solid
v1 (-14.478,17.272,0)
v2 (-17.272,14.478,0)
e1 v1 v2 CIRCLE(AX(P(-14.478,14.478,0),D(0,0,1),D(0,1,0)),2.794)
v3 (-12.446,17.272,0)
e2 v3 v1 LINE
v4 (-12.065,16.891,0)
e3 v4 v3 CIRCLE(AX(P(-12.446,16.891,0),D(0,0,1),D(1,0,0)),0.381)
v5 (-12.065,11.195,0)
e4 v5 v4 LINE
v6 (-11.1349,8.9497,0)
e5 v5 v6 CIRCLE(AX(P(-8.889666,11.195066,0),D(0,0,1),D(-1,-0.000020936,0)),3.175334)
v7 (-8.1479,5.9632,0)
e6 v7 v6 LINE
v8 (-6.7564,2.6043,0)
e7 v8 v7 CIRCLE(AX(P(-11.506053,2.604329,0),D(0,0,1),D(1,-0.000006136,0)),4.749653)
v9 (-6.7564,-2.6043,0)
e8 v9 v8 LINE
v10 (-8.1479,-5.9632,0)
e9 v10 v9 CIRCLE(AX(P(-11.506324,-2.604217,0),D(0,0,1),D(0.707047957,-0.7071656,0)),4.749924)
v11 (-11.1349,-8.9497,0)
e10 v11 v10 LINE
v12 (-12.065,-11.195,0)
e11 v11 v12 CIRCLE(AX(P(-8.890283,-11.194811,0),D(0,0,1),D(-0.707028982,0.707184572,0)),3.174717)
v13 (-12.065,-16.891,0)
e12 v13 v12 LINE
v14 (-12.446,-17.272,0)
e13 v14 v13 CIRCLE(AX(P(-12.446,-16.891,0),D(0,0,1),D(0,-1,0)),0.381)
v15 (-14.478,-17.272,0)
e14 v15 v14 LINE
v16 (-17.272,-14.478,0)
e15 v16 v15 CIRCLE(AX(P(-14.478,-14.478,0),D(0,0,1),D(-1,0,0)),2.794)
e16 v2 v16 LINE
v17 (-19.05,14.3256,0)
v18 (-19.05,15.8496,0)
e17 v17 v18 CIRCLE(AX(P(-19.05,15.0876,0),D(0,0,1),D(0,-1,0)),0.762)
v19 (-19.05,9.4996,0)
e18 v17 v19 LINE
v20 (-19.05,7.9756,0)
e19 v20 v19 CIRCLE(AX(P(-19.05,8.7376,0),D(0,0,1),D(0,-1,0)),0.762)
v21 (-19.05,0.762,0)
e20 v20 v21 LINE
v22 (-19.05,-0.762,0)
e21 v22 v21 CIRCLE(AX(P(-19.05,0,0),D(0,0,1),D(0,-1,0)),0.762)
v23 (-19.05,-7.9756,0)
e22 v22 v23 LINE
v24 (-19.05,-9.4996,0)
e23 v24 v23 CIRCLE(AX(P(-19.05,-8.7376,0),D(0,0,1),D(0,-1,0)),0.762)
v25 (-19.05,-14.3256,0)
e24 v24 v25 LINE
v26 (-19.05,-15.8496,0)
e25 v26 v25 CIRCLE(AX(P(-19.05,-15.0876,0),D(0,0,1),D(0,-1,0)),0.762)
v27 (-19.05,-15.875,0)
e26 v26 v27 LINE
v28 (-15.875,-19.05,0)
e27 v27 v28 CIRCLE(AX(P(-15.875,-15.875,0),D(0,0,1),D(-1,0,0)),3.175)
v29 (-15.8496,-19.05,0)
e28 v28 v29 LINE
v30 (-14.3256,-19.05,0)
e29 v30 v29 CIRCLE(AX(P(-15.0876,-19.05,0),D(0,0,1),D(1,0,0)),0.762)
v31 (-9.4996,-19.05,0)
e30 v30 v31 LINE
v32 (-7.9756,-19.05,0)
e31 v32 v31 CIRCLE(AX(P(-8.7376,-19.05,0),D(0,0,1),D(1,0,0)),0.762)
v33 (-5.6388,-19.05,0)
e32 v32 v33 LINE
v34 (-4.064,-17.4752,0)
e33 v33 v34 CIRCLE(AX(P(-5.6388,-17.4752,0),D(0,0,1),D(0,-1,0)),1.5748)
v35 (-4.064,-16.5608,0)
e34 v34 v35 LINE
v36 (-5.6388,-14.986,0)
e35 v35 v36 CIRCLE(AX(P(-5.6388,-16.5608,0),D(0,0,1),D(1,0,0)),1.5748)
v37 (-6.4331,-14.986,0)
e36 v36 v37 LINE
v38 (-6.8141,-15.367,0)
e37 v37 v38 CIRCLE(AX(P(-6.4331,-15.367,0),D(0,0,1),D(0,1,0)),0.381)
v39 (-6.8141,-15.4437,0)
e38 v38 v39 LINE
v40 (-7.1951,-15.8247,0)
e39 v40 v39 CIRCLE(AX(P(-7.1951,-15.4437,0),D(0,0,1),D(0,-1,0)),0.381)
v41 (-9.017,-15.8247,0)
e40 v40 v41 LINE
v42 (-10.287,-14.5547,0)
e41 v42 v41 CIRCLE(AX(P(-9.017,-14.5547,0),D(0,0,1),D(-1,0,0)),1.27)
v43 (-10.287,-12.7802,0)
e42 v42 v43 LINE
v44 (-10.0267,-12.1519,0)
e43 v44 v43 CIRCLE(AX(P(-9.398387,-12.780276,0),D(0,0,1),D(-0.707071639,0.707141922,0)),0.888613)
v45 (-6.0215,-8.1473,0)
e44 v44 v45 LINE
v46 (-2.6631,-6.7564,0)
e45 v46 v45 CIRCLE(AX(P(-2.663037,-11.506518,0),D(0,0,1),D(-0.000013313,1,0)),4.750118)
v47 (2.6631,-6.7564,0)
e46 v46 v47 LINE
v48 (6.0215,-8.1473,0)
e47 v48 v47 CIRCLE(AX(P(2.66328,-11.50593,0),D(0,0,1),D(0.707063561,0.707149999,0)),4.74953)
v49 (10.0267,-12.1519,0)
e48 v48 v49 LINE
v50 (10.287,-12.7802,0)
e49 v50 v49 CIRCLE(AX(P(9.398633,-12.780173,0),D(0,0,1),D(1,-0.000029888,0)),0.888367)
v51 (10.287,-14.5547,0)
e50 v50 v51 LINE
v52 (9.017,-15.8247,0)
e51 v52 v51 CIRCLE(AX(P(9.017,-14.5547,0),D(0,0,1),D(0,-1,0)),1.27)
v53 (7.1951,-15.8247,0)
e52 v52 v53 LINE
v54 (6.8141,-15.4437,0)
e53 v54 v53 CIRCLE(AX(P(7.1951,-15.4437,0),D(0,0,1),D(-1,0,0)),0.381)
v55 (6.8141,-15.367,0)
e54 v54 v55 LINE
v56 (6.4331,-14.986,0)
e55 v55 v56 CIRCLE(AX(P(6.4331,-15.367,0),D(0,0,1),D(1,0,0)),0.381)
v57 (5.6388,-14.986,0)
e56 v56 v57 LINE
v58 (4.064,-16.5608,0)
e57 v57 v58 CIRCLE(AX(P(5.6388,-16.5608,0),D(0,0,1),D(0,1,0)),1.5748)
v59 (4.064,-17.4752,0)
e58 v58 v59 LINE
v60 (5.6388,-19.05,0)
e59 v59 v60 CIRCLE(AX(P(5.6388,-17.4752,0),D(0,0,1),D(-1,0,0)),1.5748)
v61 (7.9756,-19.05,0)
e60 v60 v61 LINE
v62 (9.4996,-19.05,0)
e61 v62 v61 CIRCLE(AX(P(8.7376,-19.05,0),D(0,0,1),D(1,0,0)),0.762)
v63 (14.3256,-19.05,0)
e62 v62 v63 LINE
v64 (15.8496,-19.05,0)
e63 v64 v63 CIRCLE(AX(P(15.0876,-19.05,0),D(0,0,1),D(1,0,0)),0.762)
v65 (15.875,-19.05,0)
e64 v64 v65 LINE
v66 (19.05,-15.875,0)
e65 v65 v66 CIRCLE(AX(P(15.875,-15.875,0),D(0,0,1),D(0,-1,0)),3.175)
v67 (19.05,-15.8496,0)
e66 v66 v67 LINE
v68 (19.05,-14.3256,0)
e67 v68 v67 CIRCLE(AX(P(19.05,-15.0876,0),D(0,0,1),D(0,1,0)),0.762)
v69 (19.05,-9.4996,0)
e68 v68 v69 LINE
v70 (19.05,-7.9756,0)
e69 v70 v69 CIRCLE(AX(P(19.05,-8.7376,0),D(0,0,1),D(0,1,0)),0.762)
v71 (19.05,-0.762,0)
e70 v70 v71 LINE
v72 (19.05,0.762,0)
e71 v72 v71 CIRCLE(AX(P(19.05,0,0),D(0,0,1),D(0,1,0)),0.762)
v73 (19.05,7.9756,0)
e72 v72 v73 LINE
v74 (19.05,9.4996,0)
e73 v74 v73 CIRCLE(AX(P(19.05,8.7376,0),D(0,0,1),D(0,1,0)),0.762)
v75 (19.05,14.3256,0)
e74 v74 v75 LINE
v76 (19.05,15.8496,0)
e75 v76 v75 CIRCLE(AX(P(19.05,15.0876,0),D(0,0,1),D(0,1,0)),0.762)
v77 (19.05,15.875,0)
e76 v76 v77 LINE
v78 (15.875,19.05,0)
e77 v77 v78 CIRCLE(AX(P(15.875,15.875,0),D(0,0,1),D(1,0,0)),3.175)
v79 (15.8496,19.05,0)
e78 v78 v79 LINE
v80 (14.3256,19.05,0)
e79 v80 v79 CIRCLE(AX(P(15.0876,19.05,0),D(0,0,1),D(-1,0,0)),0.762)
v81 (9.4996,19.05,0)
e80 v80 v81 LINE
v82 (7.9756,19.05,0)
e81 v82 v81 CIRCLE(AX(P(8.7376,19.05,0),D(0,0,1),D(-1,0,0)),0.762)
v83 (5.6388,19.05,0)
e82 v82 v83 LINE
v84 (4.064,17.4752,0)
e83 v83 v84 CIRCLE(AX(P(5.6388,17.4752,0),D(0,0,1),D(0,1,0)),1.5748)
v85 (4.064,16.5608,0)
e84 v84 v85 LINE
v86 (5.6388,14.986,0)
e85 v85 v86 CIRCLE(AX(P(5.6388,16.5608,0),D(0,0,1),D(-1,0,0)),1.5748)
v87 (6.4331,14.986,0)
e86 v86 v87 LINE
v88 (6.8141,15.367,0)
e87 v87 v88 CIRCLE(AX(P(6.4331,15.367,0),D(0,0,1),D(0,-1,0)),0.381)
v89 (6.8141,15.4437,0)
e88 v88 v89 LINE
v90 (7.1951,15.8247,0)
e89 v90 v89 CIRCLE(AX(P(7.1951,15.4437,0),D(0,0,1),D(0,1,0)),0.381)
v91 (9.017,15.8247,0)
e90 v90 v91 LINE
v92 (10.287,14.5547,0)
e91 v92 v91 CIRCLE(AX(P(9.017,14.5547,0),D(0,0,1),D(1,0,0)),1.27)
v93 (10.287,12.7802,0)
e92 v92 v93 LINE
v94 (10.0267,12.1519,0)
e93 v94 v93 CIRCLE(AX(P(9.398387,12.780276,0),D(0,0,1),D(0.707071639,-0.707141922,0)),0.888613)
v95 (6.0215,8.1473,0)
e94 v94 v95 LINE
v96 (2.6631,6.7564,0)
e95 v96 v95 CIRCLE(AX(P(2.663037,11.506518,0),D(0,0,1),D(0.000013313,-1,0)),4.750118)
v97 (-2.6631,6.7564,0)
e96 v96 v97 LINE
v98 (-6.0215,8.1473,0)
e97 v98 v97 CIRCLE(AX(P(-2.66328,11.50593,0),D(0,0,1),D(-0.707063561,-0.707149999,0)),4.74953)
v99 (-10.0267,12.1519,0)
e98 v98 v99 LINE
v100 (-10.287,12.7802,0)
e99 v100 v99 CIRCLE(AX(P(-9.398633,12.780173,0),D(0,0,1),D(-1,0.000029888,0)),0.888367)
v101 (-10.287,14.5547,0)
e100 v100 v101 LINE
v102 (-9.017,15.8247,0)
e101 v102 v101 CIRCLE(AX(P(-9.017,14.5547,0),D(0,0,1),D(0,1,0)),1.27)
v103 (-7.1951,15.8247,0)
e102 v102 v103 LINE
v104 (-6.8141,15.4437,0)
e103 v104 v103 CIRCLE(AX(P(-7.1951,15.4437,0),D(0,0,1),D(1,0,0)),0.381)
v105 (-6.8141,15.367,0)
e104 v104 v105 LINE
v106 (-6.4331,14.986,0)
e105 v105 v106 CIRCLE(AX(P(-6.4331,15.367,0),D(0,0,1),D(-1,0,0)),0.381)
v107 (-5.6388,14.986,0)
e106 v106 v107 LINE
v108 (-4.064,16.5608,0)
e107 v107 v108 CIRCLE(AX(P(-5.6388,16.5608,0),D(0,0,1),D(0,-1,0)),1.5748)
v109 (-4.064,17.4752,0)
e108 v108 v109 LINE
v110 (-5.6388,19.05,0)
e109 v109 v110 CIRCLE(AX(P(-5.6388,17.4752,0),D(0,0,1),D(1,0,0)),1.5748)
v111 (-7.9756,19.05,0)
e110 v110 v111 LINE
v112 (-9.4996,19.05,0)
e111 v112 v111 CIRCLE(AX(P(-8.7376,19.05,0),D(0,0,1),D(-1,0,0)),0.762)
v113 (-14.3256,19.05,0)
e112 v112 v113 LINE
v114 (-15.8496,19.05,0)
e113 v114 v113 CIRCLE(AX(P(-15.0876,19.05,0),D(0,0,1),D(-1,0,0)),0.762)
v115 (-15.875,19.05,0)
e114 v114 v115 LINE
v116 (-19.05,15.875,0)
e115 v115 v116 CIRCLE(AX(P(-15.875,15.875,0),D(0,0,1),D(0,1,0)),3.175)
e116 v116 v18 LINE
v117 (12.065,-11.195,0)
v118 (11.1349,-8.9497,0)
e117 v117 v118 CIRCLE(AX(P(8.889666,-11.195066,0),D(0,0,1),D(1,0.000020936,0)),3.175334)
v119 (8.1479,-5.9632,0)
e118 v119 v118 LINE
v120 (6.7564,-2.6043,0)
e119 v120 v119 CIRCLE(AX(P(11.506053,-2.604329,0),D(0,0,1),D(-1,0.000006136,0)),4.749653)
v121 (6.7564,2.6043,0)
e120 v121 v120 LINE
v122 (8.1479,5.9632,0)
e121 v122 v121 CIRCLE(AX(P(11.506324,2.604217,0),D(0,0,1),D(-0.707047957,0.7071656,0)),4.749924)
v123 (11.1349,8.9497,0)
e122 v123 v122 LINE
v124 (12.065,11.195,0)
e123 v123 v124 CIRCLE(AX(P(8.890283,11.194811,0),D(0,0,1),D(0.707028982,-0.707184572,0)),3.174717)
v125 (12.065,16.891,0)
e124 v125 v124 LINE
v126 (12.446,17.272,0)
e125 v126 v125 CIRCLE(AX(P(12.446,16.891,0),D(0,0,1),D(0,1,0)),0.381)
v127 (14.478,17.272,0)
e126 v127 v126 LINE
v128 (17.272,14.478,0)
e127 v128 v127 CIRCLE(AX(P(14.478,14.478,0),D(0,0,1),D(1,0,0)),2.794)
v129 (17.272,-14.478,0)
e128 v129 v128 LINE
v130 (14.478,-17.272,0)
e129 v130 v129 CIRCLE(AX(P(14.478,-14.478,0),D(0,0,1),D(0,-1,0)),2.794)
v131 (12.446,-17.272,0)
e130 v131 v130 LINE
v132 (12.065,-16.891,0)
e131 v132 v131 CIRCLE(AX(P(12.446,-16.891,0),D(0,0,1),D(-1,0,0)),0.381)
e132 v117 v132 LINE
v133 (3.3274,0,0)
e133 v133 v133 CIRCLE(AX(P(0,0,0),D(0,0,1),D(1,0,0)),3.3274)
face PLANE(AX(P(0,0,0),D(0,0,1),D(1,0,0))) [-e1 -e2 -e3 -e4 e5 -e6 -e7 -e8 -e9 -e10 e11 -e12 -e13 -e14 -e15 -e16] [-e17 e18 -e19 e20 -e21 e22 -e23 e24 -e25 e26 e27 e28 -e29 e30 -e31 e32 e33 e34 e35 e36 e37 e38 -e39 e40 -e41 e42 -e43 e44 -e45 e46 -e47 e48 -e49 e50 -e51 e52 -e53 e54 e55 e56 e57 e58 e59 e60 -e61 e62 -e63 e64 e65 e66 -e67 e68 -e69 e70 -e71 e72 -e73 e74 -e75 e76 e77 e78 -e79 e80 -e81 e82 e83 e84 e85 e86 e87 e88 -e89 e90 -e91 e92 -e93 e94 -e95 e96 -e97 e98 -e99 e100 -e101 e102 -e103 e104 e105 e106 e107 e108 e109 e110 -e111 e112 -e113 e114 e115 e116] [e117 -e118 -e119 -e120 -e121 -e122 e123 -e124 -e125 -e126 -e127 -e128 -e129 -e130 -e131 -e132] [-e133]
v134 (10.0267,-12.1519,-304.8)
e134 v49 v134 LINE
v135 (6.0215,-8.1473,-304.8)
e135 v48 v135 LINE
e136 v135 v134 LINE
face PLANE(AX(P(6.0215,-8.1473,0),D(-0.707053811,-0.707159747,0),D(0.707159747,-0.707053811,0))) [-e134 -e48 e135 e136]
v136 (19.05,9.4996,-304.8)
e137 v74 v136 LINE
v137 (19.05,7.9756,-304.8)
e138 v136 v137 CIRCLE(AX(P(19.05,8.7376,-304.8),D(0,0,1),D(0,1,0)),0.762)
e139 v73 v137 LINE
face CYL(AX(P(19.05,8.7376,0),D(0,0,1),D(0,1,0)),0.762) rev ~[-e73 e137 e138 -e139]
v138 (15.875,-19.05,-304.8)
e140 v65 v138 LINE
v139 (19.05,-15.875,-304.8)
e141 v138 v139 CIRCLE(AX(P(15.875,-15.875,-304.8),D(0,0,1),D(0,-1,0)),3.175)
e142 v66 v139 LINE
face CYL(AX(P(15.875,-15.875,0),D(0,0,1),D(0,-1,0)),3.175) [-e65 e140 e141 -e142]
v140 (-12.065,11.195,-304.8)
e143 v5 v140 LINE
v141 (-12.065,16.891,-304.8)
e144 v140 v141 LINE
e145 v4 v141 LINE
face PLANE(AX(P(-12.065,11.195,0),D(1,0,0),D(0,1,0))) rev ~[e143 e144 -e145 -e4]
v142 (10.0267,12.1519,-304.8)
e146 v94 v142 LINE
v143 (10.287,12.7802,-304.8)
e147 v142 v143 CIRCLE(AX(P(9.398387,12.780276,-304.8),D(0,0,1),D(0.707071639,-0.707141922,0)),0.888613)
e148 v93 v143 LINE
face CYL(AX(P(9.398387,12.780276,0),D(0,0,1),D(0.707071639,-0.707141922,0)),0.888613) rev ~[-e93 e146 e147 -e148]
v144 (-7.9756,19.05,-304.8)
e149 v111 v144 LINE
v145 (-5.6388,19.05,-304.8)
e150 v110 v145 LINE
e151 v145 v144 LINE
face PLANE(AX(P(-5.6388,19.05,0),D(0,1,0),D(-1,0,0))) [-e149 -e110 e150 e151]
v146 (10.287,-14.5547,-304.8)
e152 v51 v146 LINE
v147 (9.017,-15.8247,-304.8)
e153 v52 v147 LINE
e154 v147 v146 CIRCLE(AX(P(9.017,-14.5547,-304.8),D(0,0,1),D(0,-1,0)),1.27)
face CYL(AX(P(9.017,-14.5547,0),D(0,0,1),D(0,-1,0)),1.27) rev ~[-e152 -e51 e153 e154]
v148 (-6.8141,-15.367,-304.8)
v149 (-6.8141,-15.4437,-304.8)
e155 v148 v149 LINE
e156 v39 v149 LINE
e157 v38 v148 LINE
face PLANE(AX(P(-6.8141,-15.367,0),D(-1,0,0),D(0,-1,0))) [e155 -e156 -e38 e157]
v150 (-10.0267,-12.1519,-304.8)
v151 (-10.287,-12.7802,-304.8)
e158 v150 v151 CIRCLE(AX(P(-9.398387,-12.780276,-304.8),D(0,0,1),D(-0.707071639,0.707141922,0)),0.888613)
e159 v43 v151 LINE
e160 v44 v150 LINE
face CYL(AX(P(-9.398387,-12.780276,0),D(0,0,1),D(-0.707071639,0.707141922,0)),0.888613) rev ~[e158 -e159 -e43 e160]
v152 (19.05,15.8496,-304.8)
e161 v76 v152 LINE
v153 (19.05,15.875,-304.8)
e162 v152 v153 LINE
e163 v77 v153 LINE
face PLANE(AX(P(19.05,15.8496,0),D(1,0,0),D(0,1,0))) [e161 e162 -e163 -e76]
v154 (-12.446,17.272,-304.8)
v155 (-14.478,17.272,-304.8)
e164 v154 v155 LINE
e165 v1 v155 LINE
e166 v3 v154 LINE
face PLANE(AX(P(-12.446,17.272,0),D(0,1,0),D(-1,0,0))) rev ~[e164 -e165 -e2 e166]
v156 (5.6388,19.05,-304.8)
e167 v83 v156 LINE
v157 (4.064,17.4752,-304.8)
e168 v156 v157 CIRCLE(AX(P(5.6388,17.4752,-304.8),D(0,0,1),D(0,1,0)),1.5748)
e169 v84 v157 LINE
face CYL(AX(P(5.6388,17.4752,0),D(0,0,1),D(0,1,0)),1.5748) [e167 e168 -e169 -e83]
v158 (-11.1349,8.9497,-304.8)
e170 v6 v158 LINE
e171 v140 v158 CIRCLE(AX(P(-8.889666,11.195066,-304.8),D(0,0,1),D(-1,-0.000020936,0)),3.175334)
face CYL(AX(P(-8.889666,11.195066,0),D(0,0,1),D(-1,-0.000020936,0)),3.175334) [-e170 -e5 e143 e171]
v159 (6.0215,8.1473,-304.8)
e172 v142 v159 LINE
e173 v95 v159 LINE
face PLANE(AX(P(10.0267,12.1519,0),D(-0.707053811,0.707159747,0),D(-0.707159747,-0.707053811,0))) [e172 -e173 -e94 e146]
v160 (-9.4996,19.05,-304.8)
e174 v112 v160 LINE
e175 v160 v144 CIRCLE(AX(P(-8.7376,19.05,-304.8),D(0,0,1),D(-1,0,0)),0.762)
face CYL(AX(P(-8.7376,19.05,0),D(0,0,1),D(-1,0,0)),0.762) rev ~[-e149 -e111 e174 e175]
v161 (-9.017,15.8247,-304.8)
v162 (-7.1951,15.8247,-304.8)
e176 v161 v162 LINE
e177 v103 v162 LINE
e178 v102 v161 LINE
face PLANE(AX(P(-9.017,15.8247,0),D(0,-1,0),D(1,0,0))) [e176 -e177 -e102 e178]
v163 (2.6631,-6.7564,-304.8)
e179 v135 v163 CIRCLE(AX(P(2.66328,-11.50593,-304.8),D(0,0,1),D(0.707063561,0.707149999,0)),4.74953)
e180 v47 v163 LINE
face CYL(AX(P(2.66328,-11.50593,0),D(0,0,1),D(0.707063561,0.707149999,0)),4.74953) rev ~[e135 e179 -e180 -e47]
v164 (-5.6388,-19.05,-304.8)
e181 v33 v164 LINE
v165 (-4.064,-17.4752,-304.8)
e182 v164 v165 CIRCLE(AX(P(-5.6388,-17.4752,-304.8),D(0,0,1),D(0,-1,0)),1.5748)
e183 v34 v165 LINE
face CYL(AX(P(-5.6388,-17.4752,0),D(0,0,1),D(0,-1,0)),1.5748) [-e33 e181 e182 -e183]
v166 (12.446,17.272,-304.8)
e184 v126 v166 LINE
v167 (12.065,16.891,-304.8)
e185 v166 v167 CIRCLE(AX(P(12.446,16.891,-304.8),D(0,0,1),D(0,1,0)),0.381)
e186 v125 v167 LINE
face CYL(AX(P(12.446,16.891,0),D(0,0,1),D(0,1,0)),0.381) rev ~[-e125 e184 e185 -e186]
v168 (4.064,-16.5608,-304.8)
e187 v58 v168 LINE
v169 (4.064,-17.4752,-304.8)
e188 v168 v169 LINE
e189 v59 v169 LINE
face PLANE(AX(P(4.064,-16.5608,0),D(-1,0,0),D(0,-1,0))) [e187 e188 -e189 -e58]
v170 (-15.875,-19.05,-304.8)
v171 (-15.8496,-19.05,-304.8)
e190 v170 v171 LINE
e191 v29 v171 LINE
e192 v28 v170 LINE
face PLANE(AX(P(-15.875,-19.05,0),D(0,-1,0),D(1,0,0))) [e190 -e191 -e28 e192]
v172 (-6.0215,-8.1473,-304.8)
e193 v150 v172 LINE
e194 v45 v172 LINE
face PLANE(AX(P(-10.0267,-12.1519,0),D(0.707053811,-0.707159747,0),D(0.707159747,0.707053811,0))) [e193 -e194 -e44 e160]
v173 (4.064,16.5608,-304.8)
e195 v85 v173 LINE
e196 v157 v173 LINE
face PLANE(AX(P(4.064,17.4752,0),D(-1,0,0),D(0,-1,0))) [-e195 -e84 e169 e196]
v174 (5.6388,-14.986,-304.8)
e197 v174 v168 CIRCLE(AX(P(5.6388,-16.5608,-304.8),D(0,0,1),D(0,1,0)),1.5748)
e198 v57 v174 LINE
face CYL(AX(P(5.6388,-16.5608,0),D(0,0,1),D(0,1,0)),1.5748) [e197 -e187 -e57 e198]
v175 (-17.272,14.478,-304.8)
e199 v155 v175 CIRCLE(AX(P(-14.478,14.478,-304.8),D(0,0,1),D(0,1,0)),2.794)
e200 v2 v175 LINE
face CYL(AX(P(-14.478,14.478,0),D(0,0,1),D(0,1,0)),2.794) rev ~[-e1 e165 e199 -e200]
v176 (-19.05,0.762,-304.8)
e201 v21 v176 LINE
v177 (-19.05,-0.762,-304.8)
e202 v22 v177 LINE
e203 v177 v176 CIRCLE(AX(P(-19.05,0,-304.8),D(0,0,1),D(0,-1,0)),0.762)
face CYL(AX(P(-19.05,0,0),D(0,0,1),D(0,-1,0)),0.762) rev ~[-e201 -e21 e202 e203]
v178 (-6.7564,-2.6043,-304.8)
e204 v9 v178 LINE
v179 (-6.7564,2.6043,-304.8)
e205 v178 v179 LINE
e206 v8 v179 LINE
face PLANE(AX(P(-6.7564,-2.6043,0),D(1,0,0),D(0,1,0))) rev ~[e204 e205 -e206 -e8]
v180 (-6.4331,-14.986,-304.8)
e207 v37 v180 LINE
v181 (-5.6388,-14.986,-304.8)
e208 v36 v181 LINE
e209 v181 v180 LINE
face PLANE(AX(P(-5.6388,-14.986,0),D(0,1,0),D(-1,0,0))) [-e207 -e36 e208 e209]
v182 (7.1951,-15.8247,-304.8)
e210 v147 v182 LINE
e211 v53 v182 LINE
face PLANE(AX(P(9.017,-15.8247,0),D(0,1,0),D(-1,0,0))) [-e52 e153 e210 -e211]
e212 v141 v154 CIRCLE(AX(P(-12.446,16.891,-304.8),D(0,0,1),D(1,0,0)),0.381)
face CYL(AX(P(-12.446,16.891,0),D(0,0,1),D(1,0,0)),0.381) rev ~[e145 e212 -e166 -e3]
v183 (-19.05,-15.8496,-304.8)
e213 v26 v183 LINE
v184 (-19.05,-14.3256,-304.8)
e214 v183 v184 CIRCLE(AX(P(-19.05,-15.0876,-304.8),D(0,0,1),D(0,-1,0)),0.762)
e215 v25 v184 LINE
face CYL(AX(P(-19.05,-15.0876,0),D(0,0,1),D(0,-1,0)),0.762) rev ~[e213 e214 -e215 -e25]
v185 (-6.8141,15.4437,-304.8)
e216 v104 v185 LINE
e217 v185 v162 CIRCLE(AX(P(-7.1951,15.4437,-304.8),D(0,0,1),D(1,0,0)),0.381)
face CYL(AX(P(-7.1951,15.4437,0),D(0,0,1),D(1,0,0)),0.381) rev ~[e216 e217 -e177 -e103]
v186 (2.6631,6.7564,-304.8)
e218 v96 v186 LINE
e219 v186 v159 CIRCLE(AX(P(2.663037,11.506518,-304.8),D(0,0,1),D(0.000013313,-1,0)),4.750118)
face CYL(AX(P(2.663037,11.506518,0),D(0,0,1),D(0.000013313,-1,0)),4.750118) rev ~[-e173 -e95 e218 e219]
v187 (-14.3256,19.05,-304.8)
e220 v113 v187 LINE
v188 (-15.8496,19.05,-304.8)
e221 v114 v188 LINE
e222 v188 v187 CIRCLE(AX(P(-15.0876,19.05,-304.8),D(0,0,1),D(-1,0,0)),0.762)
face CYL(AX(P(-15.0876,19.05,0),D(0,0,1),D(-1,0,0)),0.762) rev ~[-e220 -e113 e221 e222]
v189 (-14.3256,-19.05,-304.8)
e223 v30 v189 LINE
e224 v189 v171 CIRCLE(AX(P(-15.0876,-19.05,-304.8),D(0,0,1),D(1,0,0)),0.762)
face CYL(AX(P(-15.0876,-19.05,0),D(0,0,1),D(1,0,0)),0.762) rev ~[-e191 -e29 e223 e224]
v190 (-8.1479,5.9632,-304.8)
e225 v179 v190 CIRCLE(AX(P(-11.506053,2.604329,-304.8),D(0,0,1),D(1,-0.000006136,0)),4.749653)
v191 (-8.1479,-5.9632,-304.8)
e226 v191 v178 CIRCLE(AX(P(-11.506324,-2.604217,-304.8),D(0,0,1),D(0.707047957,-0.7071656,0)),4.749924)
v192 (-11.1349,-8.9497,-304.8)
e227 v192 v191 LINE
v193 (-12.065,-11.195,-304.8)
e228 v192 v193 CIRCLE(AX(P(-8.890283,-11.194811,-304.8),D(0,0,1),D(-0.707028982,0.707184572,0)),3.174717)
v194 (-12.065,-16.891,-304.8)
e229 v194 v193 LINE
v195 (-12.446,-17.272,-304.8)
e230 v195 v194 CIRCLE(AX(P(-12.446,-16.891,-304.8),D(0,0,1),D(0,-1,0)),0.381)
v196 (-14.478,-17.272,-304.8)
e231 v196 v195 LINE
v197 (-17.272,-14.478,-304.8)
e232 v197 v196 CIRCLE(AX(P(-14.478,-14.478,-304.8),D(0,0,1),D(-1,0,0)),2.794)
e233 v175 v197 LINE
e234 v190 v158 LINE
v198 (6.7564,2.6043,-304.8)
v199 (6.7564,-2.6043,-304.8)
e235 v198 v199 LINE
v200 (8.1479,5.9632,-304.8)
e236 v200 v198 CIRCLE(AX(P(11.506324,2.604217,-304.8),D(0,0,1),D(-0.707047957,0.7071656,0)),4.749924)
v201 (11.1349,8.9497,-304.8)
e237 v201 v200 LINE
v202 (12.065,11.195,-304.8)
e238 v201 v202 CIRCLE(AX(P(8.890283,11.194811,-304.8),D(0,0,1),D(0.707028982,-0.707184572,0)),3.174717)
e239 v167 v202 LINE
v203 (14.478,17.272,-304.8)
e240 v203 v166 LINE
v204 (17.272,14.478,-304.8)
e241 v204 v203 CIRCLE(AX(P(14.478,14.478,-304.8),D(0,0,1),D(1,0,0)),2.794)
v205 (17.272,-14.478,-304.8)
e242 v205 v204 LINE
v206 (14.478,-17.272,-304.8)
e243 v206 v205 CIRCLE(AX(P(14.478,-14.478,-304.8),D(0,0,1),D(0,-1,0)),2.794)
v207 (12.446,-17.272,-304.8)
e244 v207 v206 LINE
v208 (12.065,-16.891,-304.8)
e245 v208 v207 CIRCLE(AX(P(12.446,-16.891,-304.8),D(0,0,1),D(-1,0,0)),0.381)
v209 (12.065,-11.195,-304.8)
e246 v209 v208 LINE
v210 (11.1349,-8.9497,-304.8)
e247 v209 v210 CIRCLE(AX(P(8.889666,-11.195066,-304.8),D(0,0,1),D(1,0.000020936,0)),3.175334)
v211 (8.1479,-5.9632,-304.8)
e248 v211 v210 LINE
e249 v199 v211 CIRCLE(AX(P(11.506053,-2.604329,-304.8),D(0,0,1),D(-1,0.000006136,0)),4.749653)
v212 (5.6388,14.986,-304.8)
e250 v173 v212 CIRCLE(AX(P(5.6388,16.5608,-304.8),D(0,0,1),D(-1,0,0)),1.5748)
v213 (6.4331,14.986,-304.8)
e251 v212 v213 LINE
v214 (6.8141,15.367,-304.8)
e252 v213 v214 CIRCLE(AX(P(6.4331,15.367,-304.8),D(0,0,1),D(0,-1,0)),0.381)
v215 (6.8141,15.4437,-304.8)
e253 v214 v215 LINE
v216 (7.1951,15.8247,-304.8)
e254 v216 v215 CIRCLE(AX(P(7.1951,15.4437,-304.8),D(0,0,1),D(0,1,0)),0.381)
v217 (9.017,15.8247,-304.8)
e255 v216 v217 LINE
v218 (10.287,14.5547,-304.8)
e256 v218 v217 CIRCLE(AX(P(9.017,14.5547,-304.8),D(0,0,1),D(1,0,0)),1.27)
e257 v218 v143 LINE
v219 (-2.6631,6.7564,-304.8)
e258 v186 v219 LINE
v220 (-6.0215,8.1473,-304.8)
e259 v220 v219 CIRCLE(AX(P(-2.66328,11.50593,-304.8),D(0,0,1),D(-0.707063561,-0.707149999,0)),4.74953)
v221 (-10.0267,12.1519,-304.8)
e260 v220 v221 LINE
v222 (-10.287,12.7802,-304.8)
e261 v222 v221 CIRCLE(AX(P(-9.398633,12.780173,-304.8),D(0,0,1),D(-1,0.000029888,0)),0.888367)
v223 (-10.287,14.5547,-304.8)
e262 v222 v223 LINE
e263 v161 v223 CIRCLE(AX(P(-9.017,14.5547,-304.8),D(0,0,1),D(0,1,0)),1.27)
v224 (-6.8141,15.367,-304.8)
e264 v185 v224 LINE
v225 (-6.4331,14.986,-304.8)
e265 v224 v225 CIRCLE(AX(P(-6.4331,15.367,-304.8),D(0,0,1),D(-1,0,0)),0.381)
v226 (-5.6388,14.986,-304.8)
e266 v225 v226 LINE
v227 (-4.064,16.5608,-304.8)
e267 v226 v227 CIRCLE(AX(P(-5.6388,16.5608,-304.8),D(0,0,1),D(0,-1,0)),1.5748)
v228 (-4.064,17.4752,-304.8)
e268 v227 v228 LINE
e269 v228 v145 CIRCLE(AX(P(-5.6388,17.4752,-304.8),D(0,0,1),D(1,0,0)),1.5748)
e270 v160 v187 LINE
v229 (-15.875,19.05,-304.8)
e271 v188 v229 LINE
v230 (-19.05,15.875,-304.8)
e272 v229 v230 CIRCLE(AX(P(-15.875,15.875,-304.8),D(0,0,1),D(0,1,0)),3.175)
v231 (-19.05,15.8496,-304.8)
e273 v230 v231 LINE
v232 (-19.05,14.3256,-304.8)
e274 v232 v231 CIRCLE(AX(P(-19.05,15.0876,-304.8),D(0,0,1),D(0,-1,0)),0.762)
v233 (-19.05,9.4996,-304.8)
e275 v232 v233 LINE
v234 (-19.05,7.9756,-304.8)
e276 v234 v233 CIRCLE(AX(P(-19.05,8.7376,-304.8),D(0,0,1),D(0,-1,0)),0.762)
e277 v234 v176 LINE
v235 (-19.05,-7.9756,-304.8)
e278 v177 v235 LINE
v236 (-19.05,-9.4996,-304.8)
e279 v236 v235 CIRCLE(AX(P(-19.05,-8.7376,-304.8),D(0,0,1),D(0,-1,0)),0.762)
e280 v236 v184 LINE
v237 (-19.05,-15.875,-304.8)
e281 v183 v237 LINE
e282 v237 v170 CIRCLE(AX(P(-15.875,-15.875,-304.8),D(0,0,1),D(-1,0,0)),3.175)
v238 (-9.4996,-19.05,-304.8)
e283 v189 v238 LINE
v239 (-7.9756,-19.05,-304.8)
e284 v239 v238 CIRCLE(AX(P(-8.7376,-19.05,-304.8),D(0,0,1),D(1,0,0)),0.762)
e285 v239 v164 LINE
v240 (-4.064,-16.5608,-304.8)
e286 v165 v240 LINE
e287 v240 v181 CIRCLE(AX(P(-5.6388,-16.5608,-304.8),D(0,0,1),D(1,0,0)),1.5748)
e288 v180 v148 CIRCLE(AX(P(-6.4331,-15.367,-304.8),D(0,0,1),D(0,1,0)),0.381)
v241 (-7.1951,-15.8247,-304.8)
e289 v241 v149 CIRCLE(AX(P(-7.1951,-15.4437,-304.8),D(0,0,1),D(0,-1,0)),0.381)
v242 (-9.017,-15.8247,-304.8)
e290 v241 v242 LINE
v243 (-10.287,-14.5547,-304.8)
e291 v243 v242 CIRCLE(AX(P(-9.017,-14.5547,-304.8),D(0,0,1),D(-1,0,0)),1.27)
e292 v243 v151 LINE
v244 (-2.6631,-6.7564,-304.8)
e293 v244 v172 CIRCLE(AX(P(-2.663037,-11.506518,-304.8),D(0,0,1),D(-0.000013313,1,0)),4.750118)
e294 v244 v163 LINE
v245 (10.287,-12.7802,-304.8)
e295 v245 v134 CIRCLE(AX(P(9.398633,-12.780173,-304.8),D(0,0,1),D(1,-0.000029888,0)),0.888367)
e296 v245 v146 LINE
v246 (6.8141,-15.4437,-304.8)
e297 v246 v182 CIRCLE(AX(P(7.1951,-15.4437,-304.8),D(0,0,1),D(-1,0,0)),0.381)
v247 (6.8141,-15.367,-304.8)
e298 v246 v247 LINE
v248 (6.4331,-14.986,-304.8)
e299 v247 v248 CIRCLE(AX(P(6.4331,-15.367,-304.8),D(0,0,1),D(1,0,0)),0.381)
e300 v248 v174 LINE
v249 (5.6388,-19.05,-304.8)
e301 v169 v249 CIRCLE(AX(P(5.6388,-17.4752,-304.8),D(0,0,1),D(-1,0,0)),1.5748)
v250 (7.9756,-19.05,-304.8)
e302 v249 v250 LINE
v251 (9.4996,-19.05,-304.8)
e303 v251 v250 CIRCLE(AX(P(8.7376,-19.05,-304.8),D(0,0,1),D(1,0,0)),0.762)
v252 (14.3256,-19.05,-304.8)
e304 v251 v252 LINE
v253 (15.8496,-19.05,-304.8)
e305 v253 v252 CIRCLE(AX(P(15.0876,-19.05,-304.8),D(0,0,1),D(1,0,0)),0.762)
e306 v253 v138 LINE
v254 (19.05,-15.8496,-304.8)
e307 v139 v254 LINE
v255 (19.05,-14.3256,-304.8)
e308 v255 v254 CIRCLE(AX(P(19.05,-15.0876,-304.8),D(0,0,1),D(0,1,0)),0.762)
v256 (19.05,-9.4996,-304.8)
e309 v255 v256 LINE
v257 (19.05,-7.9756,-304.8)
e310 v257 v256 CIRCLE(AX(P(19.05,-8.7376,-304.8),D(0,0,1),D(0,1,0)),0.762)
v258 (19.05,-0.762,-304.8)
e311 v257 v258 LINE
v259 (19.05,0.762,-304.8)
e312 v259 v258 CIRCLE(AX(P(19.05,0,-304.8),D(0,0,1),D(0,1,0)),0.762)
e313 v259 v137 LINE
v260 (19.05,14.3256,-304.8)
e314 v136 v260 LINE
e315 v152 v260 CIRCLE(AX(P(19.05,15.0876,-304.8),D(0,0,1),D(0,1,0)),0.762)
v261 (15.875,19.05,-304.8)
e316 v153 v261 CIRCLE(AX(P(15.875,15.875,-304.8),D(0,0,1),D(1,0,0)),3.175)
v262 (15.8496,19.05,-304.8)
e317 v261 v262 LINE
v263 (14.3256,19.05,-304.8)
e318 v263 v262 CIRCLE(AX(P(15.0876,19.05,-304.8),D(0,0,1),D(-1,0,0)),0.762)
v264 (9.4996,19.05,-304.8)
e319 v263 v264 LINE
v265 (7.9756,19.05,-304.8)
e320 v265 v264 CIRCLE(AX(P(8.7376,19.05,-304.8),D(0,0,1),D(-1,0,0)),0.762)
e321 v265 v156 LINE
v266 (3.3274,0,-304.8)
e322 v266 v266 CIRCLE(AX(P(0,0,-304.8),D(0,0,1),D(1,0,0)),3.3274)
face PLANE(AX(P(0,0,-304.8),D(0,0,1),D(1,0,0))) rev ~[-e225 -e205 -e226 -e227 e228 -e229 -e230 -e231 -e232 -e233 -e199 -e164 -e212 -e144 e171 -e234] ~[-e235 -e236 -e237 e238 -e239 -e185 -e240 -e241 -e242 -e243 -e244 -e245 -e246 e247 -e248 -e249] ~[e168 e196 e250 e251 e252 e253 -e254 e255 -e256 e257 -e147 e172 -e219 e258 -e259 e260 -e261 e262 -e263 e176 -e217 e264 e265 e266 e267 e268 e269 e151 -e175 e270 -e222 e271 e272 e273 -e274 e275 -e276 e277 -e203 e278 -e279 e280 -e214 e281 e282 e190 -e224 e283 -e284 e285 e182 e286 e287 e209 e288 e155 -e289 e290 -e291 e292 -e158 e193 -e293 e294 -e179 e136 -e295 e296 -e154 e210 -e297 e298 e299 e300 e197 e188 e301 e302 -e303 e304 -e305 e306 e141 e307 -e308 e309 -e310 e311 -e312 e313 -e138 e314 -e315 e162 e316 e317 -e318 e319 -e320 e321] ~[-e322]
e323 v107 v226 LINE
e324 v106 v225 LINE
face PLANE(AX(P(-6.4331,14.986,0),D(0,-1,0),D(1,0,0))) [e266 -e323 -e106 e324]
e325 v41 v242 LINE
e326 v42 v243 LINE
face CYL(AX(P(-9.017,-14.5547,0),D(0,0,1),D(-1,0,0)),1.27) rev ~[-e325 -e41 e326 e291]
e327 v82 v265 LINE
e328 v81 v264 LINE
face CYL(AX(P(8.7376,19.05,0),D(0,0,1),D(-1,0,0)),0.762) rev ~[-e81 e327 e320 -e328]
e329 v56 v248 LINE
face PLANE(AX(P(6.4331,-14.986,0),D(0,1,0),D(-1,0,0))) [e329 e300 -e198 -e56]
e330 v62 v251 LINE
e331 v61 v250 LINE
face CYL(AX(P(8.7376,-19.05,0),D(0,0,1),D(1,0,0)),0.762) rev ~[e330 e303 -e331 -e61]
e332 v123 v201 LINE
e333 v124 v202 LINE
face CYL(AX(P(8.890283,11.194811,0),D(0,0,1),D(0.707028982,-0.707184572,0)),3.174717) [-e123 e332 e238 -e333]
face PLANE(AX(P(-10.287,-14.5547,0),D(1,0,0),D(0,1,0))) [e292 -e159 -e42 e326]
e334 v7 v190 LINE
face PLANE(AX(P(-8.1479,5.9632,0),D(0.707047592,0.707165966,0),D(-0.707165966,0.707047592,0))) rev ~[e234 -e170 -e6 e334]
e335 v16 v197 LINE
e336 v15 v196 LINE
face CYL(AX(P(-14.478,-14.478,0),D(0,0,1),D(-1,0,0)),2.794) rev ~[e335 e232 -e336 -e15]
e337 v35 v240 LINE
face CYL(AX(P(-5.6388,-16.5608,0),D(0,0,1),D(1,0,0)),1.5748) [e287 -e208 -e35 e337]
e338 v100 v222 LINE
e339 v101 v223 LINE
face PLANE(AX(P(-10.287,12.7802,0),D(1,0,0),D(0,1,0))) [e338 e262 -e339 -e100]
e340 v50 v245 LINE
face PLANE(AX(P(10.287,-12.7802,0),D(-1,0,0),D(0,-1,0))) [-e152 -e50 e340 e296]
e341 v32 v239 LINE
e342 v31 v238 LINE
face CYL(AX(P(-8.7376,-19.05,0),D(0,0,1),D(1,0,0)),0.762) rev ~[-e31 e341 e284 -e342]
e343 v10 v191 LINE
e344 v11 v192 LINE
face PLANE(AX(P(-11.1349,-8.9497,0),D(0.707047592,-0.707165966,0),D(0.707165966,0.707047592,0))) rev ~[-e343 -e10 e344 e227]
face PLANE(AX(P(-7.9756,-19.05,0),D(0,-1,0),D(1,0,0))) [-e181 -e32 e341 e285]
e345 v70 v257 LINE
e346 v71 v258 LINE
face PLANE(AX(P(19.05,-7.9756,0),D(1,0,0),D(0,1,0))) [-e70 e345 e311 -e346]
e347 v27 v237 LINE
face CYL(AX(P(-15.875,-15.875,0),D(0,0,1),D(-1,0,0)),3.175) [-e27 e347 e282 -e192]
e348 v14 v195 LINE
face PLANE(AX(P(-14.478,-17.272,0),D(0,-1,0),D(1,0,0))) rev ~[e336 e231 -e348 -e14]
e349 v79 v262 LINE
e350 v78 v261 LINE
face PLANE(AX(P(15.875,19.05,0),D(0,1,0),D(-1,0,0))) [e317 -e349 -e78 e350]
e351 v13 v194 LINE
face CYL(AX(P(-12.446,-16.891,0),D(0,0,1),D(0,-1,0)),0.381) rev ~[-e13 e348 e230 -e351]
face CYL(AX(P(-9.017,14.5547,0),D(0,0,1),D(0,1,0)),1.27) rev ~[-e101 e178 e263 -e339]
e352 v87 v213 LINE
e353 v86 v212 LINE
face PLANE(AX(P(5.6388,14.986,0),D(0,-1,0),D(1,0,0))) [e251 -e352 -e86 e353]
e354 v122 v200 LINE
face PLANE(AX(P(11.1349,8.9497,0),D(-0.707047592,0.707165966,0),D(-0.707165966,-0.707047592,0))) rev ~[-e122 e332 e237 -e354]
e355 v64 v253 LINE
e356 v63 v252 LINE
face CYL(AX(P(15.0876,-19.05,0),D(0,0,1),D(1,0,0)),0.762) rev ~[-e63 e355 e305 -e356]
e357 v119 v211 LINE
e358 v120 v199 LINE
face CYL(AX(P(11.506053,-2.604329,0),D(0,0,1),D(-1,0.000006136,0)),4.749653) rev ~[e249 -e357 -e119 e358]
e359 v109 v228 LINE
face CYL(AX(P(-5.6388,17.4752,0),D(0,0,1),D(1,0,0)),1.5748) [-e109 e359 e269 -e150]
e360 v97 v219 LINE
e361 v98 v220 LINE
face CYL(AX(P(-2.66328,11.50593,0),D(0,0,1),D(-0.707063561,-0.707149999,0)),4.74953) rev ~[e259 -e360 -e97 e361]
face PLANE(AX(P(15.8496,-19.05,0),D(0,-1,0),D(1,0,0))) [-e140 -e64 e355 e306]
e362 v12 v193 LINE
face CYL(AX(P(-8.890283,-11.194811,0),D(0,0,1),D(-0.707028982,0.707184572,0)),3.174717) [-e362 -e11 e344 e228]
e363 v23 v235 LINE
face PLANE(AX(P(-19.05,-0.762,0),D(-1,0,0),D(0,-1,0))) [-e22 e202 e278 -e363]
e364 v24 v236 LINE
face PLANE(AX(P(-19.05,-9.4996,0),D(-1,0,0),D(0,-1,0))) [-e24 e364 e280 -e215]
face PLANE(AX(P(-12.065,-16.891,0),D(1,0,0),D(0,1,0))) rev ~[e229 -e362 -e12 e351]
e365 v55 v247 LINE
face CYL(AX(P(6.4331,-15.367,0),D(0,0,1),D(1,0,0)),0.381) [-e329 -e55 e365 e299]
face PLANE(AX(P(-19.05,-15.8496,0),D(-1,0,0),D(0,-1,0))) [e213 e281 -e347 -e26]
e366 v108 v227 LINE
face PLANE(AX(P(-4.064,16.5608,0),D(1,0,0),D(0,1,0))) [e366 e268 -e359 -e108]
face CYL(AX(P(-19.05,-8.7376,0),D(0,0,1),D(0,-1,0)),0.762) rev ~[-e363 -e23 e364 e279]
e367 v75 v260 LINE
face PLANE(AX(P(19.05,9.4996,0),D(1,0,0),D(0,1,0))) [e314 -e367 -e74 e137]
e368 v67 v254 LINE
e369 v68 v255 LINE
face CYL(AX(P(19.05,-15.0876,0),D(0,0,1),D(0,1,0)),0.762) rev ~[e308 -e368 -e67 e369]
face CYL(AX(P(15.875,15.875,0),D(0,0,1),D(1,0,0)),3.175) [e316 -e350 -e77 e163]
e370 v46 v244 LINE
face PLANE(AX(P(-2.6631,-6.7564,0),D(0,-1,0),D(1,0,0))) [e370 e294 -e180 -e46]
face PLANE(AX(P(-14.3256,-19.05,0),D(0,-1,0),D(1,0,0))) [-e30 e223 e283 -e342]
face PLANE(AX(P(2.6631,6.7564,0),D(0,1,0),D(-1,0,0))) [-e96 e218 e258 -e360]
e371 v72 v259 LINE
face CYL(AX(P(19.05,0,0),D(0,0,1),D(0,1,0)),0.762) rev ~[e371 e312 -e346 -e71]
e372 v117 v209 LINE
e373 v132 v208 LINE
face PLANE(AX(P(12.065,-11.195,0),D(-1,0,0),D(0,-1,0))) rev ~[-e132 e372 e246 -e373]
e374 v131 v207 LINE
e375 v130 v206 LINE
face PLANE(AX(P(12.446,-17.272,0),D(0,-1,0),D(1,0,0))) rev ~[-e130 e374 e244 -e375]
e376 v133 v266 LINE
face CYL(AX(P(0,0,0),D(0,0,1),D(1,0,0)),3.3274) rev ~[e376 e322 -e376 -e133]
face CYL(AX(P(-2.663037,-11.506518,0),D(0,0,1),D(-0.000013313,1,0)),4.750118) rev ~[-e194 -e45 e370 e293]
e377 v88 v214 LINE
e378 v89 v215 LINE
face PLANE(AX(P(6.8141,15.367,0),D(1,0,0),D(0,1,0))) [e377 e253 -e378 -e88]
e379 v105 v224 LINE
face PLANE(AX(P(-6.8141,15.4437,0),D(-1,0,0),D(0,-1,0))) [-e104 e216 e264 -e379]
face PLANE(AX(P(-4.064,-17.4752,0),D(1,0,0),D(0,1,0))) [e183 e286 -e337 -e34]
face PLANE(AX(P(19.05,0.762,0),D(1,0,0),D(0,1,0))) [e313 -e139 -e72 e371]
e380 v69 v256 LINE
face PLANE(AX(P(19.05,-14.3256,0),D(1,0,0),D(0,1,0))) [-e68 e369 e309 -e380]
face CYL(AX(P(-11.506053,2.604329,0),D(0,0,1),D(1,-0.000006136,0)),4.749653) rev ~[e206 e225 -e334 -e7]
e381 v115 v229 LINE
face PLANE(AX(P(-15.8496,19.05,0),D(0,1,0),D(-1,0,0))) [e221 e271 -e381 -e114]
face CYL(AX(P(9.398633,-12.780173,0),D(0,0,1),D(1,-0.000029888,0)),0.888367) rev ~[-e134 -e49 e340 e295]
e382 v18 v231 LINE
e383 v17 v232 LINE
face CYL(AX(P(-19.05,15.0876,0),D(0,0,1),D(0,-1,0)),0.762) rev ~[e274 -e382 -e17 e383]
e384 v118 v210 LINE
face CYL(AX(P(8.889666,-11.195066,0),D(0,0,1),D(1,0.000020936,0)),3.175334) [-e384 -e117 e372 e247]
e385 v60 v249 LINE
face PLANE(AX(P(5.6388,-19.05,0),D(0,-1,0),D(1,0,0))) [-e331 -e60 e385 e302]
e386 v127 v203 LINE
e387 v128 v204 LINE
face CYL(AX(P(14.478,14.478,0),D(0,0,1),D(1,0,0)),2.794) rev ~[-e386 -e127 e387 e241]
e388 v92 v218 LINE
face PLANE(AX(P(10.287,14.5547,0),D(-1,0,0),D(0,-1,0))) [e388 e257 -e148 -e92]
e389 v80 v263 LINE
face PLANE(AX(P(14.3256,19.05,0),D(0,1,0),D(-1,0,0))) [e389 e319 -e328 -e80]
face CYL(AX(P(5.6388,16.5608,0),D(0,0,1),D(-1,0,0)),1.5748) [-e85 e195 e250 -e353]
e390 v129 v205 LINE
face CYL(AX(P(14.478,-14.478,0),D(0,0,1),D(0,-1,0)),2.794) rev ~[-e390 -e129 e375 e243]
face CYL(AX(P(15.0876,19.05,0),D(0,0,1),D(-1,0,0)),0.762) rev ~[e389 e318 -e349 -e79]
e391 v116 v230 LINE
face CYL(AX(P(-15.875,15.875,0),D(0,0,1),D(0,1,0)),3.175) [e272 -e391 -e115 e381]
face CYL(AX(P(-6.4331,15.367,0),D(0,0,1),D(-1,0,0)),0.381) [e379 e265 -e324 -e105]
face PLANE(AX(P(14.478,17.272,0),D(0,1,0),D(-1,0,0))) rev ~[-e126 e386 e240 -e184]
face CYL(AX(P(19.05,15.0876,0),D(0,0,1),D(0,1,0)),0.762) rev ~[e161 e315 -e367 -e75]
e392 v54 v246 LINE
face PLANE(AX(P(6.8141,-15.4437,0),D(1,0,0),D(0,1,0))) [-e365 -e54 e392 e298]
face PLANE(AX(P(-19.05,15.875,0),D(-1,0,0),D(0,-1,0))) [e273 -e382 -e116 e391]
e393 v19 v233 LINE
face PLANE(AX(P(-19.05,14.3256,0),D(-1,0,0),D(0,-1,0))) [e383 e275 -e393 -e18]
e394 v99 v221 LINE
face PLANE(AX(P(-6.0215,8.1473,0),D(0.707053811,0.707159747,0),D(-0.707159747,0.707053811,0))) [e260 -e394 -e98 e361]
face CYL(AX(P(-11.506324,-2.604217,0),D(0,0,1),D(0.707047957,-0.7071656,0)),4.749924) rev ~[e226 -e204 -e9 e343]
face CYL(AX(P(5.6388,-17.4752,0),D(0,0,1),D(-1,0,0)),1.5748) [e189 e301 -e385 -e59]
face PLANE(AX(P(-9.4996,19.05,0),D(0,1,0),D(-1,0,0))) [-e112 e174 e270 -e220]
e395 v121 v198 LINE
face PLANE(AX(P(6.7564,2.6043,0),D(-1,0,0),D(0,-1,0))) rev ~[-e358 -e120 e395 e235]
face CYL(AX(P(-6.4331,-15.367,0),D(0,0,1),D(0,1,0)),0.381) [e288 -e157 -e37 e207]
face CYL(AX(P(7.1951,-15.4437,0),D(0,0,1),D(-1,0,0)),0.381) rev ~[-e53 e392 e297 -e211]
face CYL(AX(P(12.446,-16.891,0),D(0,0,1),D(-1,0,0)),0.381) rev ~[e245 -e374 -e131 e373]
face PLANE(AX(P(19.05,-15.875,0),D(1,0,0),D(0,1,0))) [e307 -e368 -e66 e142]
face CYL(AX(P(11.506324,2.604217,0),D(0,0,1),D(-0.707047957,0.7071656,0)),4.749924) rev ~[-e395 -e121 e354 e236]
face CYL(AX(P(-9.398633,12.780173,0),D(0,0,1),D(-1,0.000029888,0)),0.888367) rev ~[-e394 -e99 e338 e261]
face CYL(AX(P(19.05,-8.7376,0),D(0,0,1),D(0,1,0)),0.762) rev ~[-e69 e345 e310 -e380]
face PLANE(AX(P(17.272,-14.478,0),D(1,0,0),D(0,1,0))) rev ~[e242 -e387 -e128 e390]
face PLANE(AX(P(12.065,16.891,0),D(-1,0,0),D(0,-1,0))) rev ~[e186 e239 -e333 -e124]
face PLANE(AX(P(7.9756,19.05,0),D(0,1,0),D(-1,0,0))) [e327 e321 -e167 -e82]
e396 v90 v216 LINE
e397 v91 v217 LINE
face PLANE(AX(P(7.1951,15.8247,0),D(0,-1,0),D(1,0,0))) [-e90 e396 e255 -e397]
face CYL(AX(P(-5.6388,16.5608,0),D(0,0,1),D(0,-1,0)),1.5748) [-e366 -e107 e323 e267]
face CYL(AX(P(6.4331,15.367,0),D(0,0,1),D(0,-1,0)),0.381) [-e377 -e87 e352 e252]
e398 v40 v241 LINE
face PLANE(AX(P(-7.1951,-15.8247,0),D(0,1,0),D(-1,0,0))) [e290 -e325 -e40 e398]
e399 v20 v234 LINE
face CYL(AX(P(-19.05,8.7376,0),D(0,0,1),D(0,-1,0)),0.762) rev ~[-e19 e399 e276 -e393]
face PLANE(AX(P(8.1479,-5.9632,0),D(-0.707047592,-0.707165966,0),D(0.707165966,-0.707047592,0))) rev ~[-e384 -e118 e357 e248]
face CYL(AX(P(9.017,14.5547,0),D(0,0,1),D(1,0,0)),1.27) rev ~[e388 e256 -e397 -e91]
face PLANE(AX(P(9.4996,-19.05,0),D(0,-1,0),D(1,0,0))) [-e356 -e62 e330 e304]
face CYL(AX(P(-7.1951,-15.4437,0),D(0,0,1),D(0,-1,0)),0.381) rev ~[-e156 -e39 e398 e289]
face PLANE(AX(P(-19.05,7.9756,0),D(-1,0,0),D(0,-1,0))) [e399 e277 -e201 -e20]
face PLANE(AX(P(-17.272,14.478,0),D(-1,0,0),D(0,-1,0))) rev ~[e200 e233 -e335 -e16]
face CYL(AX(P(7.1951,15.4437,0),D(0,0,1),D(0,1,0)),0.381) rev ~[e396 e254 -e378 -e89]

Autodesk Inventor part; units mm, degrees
ref_plane "YZ Plane" through (0, 0, 0) normal (1, 0, 0) x (0, 1, 0)
ref_plane "XZ Plane" through (0, 0, 0) normal (0, 1, 0) x (-1, 0, 0)
ref_plane "XY Plane" through (0, 0, 0) normal (0, 0, 1) x (1, 0, 0)
sketch "Sketch1" plane through (0, 0, 0) normal (0, 0, 1) x (1, 0, 0)
  circle A0 centre (0, 0) radius 3.3274
  line L0 (11.1349, 8.9497) -> (8.1479, 5.9632)
  arc A1 (11.1349, 8.9497) -> (12.065, 11.195) centre (8.89, 11.195) ccw
  line L1 (12.065, 16.891) -> (12.065, 11.195)
  arc A2 (12.446, 17.272) -> (12.065, 16.891) centre (12.446, 16.891) ccw
  line L2 (14.478, 17.272) -> (12.446, 17.272)
  arc A3 (17.272, 14.478) -> (14.478, 17.272) centre (14.478, 14.478) ccw
  line L3 (17.272, -14.478) -> (17.272, 14.478)
  arc A4 (14.478, -17.272) -> (17.272, -14.478) centre (14.478, -14.478) ccw
  line L4 (12.446, -17.272) -> (14.478, -17.272)
  arc A5 (12.065, -16.891) -> (12.446, -17.272) centre (12.446, -16.891) ccw
  line L5 (12.065, -11.195) -> (12.065, -16.891)
  arc A6 (12.065, -11.195) -> (11.1349, -8.9497) centre (8.89, -11.195) ccw
  line L6 (8.1479, -5.9632) -> (11.1349, -8.9497)
  arc A7 (6.7564, -2.6043) -> (8.1479, -5.9632) centre (11.5062, -2.6043) ccw
  line L7 (6.7564, 2.6043) -> (6.7564, -2.6043)
  arc A8 (8.1479, 5.9632) -> (6.7564, 2.6043) centre (11.5062, 2.6043) ccw
  line L8 (-12.065, -16.891) -> (-12.065, -11.195)
  arc A9 (-12.446, -17.272) -> (-12.065, -16.891) centre (-12.446, -16.891) ccw
  line L9 (-14.478, -17.272) -> (-12.446, -17.272)
  arc A10 (-17.272, -14.478) -> (-14.478, -17.272) centre (-14.478, -14.478) ccw
  line L10 (-17.272, 14.478) -> (-17.272, -14.478)
  arc A11 (-14.478, 17.272) -> (-17.272, 14.478) centre (-14.478, 14.478) ccw
  line L11 (-12.446, 17.272) -> (-14.478, 17.272)
  arc A12 (-12.065, 16.891) -> (-12.446, 17.272) centre (-12.446, 16.891) ccw
  line L12 (-12.065, 11.195) -> (-12.065, 16.891)
  arc A13 (-12.065, 11.195) -> (-11.1349, 8.9497) centre (-8.89, 11.195) ccw
  line L13 (-8.1479, 5.9632) -> (-11.1349, 8.9497)
  arc A14 (-6.7564, 2.6043) -> (-8.1479, 5.9632) centre (-11.5062, 2.6043) ccw
  line L14 (-6.7564, -2.6043) -> (-6.7564, 2.6043)
  arc A15 (-8.1479, -5.9632) -> (-6.7564, -2.6043) centre (-11.5062, -2.6043) ccw
  line L15 (-11.1349, -8.9497) -> (-8.1479, -5.9632)
  arc A16 (-11.1349, -8.9497) -> (-12.065, -11.195) centre (-8.89, -11.195) ccw
  arc A17 (9.4996, -19.05) -> (7.9756, -19.05) centre (8.7376, -19.05) ccw
  line L16 (9.4996, -19.05) -> (14.3256, -19.05)
  arc A18 (15.8496, -19.05) -> (14.3256, -19.05) centre (15.0876, -19.05) ccw
  line L17 (15.8496, -19.05) -> (15.875, -19.05)
  arc A19 (15.875, -19.05) -> (19.05, -15.875) centre (15.875, -15.875) ccw
  line L18 (19.05, -15.875) -> (19.05, -15.8496)
  arc A20 (19.05, -14.3256) -> (19.05, -15.8496) centre (19.05, -15.0876) ccw
  line L19 (19.05, -14.3256) -> (19.05, -9.4996)
  arc A21 (19.05, -7.9756) -> (19.05, -9.4996) centre (19.05, -8.7376) ccw
  line L20 (19.05, -7.9756) -> (19.05, -0.762)
  arc A22 (19.05, 0.762) -> (19.05, -0.762) centre (19.05, 0) ccw
  line L21 (19.05, 0.762) -> (19.05, 7.9756)
  arc A23 (19.05, 9.4996) -> (19.05, 7.9756) centre (19.05, 8.7376) ccw
  line L22 (19.05, 9.4996) -> (19.05, 14.3256)
  arc A24 (19.05, 15.8496) -> (19.05, 14.3256) centre (19.05, 15.0876) ccw
  line L23 (19.05, 15.8496) -> (19.05, 15.875)
  arc A25 (19.05, 15.875) -> (15.875, 19.05) centre (15.875, 15.875) ccw
  line L24 (15.875, 19.05) -> (15.8496, 19.05)
  arc A26 (14.3256, 19.05) -> (15.8496, 19.05) centre (15.0876, 19.05) ccw
  line L25 (14.3256, 19.05) -> (9.4996, 19.05)
  arc A27 (7.9756, 19.05) -> (9.4996, 19.05) centre (8.7376, 19.05) ccw
  line L26 (7.9756, 19.05) -> (5.6388, 19.05)
  arc A28 (5.6388, 19.05) -> (4.064, 17.4752) centre (5.6388, 17.4752) ccw
  line L27 (4.064, 17.4752) -> (4.064, 16.5608)
  arc A29 (4.064, 16.5608) -> (5.6388, 14.986) centre (5.6388, 16.5608) ccw
  line L28 (5.6388, 14.986) -> (6.4331, 14.986)
  arc A30 (6.4331, 14.986) -> (6.8141, 15.367) centre (6.4331, 15.367) ccw
  line L29 (6.8141, 15.367) -> (6.8141, 15.4437)
  arc A31 (7.1951, 15.8247) -> (6.8141, 15.4437) centre (7.1951, 15.4437) ccw
  line L30 (7.1951, 15.8247) -> (9.017, 15.8247)
  arc A32 (10.287, 14.5547) -> (9.017, 15.8247) centre (9.017, 14.5547) ccw
  line L31 (10.287, 14.5547) -> (10.287, 12.7802)
  arc A33 (10.0267, 12.1519) -> (10.287, 12.7802) centre (9.3985, 12.7802) ccw
  line L32 (10.0267, 12.1519) -> (6.0215, 8.1473)
  arc A34 (2.6631, 6.7564) -> (6.0215, 8.1473) centre (2.6631, 11.5062) ccw
  line L33 (2.6631, 6.7564) -> (-2.6631, 6.7564)
  arc A35 (-6.0215, 8.1473) -> (-2.6631, 6.7564) centre (-2.6631, 11.5062) ccw
  line L34 (-6.0215, 8.1473) -> (-10.0267, 12.1519)
  arc A36 (-10.287, 12.7802) -> (-10.0267, 12.1519) centre (-9.3985, 12.7802) ccw
  line L35 (-10.287, 12.7802) -> (-10.287, 14.5547)
  arc A37 (-9.017, 15.8247) -> (-10.287, 14.5547) centre (-9.017, 14.5547) ccw
  line L36 (-9.017, 15.8247) -> (-7.1951, 15.8247)
  arc A38 (-6.8141, 15.4437) -> (-7.1951, 15.8247) centre (-7.1951, 15.4437) ccw
  line L37 (-6.8141, 15.4437) -> (-6.8141, 15.367)
  arc A39 (-6.8141, 15.367) -> (-6.4331, 14.986) centre (-6.4331, 15.367) ccw
  line L38 (-6.4331, 14.986) -> (-5.6388, 14.986)
  arc A40 (-5.6388, 14.986) -> (-4.064, 16.5608) centre (-5.6388, 16.5608) ccw
  line L39 (-4.064, 16.5608) -> (-4.064, 17.4752)
  arc A41 (-4.064, 17.4752) -> (-5.6388, 19.05) centre (-5.6388, 17.4752) ccw
  line L40 (-5.6388, 19.05) -> (-7.9756, 19.05)
  arc A42 (-9.4996, 19.05) -> (-7.9756, 19.05) centre (-8.7376, 19.05) ccw
  line L41 (-9.4996, 19.05) -> (-14.3256, 19.05)
  arc A43 (-15.8496, 19.05) -> (-14.3256, 19.05) centre (-15.0876, 19.05) ccw
  line L42 (-15.8496, 19.05) -> (-15.875, 19.05)
  arc A44 (-15.875, 19.05) -> (-19.05, 15.875) centre (-15.875, 15.875) ccw
  line L43 (-19.05, 15.875) -> (-19.05, 15.8496)
  arc A45 (-19.05, 14.3256) -> (-19.05, 15.8496) centre (-19.05, 15.0876) ccw
  line L44 (-19.05, 14.3256) -> (-19.05, 9.4996)
  arc A46 (-19.05, 7.9756) -> (-19.05, 9.4996) centre (-19.05, 8.7376) ccw
  line L45 (-19.05, 7.9756) -> (-19.05, 0.762)
  arc A47 (-19.05, -0.762) -> (-19.05, 0.762) centre (-19.05, 0) ccw
  line L46 (-19.05, -0.762) -> (-19.05, -7.9756)
  arc A48 (-19.05, -9.4996) -> (-19.05, -7.9756) centre (-19.05, -8.7376) ccw
  line L47 (-19.05, -9.4996) -> (-19.05, -14.3256)
  arc A49 (-19.05, -15.8496) -> (-19.05, -14.3256) centre (-19.05, -15.0876) ccw
  line L48 (-19.05, -15.8496) -> (-19.05, -15.875)
  arc A50 (-19.05, -15.875) -> (-15.875, -19.05) centre (-15.875, -15.875) ccw
  line L49 (-15.875, -19.05) -> (-15.8496, -19.05)
  arc A51 (-14.3256, -19.05) -> (-15.8496, -19.05) centre (-15.0876, -19.05) ccw
  line L50 (-14.3256, -19.05) -> (-9.4996, -19.05)
  arc A52 (-7.9756, -19.05) -> (-9.4996, -19.05) centre (-8.7376, -19.05) ccw
  line L51 (-7.9756, -19.05) -> (-5.6388, -19.05)
  arc A53 (-5.6388, -19.05) -> (-4.064, -17.4752) centre (-5.6388, -17.4752) ccw
  line L52 (-4.064, -17.4752) -> (-4.064, -16.5608)
  arc A54 (-4.064, -16.5608) -> (-5.6388, -14.986) centre (-5.6388, -16.5608) ccw
  line L53 (-5.6388, -14.986) -> (-6.4331, -14.986)
  arc A55 (-6.4331, -14.986) -> (-6.8141, -15.367) centre (-6.4331, -15.367) ccw
  line L54 (-6.8141, -15.367) -> (-6.8141, -15.4437)
  arc A56 (-7.1951, -15.8247) -> (-6.8141, -15.4437) centre (-7.1951, -15.4437) ccw
  line L55 (-7.1951, -15.8247) -> (-9.017, -15.8247)
  arc A57 (-10.287, -14.5547) -> (-9.017, -15.8247) centre (-9.017, -14.5547) ccw
  line L56 (-10.287, -14.5547) -> (-10.287, -12.7802)
  arc A58 (-10.0267, -12.1519) -> (-10.287, -12.7802) centre (-9.3985, -12.7802) ccw
  line L57 (-10.0267, -12.1519) -> (-6.0215, -8.1473)
  arc A59 (-2.6631, -6.7564) -> (-6.0215, -8.1473) centre (-2.6631, -11.5062) ccw
  line L58 (-2.6631, -6.7564) -> (2.6631, -6.7564)
  arc A60 (6.0215, -8.1473) -> (2.6631, -6.7564) centre (2.6631, -11.5062) ccw
  line L59 (6.0215, -8.1473) -> (10.0267, -12.1519)
  arc A61 (10.287, -12.7802) -> (10.0267, -12.1519) centre (9.3985, -12.7802) ccw
  line L60 (10.287, -12.7802) -> (10.287, -14.5547)
  arc A62 (9.017, -15.8247) -> (10.287, -14.5547) centre (9.017, -14.5547) ccw
  line L61 (9.017, -15.8247) -> (7.1951, -15.8247)
  arc A63 (6.8141, -15.4437) -> (7.1951, -15.8247) centre (7.1951, -15.4437) ccw
  line L62 (6.8141, -15.4437) -> (6.8141, -15.367)
  arc A64 (6.8141, -15.367) -> (6.4331, -14.986) centre (6.4331, -15.367) ccw
  line L63 (6.4331, -14.986) -> (5.6388, -14.986)
  arc A65 (5.6388, -14.986) -> (4.064, -16.5608) centre (5.6388, -16.5608) ccw
  line L64 (4.064, -16.5608) -> (4.064, -17.4752)
  arc A66 (4.064, -17.4752) -> (5.6388, -19.05) centre (5.6388, -17.4752) ccw
  line L65 (5.6388, -19.05) -> (7.9756, -19.05)
extrude "Extrusion1" add sketch "Sketch1" against normal blind 304.8
properties part number "1504"
